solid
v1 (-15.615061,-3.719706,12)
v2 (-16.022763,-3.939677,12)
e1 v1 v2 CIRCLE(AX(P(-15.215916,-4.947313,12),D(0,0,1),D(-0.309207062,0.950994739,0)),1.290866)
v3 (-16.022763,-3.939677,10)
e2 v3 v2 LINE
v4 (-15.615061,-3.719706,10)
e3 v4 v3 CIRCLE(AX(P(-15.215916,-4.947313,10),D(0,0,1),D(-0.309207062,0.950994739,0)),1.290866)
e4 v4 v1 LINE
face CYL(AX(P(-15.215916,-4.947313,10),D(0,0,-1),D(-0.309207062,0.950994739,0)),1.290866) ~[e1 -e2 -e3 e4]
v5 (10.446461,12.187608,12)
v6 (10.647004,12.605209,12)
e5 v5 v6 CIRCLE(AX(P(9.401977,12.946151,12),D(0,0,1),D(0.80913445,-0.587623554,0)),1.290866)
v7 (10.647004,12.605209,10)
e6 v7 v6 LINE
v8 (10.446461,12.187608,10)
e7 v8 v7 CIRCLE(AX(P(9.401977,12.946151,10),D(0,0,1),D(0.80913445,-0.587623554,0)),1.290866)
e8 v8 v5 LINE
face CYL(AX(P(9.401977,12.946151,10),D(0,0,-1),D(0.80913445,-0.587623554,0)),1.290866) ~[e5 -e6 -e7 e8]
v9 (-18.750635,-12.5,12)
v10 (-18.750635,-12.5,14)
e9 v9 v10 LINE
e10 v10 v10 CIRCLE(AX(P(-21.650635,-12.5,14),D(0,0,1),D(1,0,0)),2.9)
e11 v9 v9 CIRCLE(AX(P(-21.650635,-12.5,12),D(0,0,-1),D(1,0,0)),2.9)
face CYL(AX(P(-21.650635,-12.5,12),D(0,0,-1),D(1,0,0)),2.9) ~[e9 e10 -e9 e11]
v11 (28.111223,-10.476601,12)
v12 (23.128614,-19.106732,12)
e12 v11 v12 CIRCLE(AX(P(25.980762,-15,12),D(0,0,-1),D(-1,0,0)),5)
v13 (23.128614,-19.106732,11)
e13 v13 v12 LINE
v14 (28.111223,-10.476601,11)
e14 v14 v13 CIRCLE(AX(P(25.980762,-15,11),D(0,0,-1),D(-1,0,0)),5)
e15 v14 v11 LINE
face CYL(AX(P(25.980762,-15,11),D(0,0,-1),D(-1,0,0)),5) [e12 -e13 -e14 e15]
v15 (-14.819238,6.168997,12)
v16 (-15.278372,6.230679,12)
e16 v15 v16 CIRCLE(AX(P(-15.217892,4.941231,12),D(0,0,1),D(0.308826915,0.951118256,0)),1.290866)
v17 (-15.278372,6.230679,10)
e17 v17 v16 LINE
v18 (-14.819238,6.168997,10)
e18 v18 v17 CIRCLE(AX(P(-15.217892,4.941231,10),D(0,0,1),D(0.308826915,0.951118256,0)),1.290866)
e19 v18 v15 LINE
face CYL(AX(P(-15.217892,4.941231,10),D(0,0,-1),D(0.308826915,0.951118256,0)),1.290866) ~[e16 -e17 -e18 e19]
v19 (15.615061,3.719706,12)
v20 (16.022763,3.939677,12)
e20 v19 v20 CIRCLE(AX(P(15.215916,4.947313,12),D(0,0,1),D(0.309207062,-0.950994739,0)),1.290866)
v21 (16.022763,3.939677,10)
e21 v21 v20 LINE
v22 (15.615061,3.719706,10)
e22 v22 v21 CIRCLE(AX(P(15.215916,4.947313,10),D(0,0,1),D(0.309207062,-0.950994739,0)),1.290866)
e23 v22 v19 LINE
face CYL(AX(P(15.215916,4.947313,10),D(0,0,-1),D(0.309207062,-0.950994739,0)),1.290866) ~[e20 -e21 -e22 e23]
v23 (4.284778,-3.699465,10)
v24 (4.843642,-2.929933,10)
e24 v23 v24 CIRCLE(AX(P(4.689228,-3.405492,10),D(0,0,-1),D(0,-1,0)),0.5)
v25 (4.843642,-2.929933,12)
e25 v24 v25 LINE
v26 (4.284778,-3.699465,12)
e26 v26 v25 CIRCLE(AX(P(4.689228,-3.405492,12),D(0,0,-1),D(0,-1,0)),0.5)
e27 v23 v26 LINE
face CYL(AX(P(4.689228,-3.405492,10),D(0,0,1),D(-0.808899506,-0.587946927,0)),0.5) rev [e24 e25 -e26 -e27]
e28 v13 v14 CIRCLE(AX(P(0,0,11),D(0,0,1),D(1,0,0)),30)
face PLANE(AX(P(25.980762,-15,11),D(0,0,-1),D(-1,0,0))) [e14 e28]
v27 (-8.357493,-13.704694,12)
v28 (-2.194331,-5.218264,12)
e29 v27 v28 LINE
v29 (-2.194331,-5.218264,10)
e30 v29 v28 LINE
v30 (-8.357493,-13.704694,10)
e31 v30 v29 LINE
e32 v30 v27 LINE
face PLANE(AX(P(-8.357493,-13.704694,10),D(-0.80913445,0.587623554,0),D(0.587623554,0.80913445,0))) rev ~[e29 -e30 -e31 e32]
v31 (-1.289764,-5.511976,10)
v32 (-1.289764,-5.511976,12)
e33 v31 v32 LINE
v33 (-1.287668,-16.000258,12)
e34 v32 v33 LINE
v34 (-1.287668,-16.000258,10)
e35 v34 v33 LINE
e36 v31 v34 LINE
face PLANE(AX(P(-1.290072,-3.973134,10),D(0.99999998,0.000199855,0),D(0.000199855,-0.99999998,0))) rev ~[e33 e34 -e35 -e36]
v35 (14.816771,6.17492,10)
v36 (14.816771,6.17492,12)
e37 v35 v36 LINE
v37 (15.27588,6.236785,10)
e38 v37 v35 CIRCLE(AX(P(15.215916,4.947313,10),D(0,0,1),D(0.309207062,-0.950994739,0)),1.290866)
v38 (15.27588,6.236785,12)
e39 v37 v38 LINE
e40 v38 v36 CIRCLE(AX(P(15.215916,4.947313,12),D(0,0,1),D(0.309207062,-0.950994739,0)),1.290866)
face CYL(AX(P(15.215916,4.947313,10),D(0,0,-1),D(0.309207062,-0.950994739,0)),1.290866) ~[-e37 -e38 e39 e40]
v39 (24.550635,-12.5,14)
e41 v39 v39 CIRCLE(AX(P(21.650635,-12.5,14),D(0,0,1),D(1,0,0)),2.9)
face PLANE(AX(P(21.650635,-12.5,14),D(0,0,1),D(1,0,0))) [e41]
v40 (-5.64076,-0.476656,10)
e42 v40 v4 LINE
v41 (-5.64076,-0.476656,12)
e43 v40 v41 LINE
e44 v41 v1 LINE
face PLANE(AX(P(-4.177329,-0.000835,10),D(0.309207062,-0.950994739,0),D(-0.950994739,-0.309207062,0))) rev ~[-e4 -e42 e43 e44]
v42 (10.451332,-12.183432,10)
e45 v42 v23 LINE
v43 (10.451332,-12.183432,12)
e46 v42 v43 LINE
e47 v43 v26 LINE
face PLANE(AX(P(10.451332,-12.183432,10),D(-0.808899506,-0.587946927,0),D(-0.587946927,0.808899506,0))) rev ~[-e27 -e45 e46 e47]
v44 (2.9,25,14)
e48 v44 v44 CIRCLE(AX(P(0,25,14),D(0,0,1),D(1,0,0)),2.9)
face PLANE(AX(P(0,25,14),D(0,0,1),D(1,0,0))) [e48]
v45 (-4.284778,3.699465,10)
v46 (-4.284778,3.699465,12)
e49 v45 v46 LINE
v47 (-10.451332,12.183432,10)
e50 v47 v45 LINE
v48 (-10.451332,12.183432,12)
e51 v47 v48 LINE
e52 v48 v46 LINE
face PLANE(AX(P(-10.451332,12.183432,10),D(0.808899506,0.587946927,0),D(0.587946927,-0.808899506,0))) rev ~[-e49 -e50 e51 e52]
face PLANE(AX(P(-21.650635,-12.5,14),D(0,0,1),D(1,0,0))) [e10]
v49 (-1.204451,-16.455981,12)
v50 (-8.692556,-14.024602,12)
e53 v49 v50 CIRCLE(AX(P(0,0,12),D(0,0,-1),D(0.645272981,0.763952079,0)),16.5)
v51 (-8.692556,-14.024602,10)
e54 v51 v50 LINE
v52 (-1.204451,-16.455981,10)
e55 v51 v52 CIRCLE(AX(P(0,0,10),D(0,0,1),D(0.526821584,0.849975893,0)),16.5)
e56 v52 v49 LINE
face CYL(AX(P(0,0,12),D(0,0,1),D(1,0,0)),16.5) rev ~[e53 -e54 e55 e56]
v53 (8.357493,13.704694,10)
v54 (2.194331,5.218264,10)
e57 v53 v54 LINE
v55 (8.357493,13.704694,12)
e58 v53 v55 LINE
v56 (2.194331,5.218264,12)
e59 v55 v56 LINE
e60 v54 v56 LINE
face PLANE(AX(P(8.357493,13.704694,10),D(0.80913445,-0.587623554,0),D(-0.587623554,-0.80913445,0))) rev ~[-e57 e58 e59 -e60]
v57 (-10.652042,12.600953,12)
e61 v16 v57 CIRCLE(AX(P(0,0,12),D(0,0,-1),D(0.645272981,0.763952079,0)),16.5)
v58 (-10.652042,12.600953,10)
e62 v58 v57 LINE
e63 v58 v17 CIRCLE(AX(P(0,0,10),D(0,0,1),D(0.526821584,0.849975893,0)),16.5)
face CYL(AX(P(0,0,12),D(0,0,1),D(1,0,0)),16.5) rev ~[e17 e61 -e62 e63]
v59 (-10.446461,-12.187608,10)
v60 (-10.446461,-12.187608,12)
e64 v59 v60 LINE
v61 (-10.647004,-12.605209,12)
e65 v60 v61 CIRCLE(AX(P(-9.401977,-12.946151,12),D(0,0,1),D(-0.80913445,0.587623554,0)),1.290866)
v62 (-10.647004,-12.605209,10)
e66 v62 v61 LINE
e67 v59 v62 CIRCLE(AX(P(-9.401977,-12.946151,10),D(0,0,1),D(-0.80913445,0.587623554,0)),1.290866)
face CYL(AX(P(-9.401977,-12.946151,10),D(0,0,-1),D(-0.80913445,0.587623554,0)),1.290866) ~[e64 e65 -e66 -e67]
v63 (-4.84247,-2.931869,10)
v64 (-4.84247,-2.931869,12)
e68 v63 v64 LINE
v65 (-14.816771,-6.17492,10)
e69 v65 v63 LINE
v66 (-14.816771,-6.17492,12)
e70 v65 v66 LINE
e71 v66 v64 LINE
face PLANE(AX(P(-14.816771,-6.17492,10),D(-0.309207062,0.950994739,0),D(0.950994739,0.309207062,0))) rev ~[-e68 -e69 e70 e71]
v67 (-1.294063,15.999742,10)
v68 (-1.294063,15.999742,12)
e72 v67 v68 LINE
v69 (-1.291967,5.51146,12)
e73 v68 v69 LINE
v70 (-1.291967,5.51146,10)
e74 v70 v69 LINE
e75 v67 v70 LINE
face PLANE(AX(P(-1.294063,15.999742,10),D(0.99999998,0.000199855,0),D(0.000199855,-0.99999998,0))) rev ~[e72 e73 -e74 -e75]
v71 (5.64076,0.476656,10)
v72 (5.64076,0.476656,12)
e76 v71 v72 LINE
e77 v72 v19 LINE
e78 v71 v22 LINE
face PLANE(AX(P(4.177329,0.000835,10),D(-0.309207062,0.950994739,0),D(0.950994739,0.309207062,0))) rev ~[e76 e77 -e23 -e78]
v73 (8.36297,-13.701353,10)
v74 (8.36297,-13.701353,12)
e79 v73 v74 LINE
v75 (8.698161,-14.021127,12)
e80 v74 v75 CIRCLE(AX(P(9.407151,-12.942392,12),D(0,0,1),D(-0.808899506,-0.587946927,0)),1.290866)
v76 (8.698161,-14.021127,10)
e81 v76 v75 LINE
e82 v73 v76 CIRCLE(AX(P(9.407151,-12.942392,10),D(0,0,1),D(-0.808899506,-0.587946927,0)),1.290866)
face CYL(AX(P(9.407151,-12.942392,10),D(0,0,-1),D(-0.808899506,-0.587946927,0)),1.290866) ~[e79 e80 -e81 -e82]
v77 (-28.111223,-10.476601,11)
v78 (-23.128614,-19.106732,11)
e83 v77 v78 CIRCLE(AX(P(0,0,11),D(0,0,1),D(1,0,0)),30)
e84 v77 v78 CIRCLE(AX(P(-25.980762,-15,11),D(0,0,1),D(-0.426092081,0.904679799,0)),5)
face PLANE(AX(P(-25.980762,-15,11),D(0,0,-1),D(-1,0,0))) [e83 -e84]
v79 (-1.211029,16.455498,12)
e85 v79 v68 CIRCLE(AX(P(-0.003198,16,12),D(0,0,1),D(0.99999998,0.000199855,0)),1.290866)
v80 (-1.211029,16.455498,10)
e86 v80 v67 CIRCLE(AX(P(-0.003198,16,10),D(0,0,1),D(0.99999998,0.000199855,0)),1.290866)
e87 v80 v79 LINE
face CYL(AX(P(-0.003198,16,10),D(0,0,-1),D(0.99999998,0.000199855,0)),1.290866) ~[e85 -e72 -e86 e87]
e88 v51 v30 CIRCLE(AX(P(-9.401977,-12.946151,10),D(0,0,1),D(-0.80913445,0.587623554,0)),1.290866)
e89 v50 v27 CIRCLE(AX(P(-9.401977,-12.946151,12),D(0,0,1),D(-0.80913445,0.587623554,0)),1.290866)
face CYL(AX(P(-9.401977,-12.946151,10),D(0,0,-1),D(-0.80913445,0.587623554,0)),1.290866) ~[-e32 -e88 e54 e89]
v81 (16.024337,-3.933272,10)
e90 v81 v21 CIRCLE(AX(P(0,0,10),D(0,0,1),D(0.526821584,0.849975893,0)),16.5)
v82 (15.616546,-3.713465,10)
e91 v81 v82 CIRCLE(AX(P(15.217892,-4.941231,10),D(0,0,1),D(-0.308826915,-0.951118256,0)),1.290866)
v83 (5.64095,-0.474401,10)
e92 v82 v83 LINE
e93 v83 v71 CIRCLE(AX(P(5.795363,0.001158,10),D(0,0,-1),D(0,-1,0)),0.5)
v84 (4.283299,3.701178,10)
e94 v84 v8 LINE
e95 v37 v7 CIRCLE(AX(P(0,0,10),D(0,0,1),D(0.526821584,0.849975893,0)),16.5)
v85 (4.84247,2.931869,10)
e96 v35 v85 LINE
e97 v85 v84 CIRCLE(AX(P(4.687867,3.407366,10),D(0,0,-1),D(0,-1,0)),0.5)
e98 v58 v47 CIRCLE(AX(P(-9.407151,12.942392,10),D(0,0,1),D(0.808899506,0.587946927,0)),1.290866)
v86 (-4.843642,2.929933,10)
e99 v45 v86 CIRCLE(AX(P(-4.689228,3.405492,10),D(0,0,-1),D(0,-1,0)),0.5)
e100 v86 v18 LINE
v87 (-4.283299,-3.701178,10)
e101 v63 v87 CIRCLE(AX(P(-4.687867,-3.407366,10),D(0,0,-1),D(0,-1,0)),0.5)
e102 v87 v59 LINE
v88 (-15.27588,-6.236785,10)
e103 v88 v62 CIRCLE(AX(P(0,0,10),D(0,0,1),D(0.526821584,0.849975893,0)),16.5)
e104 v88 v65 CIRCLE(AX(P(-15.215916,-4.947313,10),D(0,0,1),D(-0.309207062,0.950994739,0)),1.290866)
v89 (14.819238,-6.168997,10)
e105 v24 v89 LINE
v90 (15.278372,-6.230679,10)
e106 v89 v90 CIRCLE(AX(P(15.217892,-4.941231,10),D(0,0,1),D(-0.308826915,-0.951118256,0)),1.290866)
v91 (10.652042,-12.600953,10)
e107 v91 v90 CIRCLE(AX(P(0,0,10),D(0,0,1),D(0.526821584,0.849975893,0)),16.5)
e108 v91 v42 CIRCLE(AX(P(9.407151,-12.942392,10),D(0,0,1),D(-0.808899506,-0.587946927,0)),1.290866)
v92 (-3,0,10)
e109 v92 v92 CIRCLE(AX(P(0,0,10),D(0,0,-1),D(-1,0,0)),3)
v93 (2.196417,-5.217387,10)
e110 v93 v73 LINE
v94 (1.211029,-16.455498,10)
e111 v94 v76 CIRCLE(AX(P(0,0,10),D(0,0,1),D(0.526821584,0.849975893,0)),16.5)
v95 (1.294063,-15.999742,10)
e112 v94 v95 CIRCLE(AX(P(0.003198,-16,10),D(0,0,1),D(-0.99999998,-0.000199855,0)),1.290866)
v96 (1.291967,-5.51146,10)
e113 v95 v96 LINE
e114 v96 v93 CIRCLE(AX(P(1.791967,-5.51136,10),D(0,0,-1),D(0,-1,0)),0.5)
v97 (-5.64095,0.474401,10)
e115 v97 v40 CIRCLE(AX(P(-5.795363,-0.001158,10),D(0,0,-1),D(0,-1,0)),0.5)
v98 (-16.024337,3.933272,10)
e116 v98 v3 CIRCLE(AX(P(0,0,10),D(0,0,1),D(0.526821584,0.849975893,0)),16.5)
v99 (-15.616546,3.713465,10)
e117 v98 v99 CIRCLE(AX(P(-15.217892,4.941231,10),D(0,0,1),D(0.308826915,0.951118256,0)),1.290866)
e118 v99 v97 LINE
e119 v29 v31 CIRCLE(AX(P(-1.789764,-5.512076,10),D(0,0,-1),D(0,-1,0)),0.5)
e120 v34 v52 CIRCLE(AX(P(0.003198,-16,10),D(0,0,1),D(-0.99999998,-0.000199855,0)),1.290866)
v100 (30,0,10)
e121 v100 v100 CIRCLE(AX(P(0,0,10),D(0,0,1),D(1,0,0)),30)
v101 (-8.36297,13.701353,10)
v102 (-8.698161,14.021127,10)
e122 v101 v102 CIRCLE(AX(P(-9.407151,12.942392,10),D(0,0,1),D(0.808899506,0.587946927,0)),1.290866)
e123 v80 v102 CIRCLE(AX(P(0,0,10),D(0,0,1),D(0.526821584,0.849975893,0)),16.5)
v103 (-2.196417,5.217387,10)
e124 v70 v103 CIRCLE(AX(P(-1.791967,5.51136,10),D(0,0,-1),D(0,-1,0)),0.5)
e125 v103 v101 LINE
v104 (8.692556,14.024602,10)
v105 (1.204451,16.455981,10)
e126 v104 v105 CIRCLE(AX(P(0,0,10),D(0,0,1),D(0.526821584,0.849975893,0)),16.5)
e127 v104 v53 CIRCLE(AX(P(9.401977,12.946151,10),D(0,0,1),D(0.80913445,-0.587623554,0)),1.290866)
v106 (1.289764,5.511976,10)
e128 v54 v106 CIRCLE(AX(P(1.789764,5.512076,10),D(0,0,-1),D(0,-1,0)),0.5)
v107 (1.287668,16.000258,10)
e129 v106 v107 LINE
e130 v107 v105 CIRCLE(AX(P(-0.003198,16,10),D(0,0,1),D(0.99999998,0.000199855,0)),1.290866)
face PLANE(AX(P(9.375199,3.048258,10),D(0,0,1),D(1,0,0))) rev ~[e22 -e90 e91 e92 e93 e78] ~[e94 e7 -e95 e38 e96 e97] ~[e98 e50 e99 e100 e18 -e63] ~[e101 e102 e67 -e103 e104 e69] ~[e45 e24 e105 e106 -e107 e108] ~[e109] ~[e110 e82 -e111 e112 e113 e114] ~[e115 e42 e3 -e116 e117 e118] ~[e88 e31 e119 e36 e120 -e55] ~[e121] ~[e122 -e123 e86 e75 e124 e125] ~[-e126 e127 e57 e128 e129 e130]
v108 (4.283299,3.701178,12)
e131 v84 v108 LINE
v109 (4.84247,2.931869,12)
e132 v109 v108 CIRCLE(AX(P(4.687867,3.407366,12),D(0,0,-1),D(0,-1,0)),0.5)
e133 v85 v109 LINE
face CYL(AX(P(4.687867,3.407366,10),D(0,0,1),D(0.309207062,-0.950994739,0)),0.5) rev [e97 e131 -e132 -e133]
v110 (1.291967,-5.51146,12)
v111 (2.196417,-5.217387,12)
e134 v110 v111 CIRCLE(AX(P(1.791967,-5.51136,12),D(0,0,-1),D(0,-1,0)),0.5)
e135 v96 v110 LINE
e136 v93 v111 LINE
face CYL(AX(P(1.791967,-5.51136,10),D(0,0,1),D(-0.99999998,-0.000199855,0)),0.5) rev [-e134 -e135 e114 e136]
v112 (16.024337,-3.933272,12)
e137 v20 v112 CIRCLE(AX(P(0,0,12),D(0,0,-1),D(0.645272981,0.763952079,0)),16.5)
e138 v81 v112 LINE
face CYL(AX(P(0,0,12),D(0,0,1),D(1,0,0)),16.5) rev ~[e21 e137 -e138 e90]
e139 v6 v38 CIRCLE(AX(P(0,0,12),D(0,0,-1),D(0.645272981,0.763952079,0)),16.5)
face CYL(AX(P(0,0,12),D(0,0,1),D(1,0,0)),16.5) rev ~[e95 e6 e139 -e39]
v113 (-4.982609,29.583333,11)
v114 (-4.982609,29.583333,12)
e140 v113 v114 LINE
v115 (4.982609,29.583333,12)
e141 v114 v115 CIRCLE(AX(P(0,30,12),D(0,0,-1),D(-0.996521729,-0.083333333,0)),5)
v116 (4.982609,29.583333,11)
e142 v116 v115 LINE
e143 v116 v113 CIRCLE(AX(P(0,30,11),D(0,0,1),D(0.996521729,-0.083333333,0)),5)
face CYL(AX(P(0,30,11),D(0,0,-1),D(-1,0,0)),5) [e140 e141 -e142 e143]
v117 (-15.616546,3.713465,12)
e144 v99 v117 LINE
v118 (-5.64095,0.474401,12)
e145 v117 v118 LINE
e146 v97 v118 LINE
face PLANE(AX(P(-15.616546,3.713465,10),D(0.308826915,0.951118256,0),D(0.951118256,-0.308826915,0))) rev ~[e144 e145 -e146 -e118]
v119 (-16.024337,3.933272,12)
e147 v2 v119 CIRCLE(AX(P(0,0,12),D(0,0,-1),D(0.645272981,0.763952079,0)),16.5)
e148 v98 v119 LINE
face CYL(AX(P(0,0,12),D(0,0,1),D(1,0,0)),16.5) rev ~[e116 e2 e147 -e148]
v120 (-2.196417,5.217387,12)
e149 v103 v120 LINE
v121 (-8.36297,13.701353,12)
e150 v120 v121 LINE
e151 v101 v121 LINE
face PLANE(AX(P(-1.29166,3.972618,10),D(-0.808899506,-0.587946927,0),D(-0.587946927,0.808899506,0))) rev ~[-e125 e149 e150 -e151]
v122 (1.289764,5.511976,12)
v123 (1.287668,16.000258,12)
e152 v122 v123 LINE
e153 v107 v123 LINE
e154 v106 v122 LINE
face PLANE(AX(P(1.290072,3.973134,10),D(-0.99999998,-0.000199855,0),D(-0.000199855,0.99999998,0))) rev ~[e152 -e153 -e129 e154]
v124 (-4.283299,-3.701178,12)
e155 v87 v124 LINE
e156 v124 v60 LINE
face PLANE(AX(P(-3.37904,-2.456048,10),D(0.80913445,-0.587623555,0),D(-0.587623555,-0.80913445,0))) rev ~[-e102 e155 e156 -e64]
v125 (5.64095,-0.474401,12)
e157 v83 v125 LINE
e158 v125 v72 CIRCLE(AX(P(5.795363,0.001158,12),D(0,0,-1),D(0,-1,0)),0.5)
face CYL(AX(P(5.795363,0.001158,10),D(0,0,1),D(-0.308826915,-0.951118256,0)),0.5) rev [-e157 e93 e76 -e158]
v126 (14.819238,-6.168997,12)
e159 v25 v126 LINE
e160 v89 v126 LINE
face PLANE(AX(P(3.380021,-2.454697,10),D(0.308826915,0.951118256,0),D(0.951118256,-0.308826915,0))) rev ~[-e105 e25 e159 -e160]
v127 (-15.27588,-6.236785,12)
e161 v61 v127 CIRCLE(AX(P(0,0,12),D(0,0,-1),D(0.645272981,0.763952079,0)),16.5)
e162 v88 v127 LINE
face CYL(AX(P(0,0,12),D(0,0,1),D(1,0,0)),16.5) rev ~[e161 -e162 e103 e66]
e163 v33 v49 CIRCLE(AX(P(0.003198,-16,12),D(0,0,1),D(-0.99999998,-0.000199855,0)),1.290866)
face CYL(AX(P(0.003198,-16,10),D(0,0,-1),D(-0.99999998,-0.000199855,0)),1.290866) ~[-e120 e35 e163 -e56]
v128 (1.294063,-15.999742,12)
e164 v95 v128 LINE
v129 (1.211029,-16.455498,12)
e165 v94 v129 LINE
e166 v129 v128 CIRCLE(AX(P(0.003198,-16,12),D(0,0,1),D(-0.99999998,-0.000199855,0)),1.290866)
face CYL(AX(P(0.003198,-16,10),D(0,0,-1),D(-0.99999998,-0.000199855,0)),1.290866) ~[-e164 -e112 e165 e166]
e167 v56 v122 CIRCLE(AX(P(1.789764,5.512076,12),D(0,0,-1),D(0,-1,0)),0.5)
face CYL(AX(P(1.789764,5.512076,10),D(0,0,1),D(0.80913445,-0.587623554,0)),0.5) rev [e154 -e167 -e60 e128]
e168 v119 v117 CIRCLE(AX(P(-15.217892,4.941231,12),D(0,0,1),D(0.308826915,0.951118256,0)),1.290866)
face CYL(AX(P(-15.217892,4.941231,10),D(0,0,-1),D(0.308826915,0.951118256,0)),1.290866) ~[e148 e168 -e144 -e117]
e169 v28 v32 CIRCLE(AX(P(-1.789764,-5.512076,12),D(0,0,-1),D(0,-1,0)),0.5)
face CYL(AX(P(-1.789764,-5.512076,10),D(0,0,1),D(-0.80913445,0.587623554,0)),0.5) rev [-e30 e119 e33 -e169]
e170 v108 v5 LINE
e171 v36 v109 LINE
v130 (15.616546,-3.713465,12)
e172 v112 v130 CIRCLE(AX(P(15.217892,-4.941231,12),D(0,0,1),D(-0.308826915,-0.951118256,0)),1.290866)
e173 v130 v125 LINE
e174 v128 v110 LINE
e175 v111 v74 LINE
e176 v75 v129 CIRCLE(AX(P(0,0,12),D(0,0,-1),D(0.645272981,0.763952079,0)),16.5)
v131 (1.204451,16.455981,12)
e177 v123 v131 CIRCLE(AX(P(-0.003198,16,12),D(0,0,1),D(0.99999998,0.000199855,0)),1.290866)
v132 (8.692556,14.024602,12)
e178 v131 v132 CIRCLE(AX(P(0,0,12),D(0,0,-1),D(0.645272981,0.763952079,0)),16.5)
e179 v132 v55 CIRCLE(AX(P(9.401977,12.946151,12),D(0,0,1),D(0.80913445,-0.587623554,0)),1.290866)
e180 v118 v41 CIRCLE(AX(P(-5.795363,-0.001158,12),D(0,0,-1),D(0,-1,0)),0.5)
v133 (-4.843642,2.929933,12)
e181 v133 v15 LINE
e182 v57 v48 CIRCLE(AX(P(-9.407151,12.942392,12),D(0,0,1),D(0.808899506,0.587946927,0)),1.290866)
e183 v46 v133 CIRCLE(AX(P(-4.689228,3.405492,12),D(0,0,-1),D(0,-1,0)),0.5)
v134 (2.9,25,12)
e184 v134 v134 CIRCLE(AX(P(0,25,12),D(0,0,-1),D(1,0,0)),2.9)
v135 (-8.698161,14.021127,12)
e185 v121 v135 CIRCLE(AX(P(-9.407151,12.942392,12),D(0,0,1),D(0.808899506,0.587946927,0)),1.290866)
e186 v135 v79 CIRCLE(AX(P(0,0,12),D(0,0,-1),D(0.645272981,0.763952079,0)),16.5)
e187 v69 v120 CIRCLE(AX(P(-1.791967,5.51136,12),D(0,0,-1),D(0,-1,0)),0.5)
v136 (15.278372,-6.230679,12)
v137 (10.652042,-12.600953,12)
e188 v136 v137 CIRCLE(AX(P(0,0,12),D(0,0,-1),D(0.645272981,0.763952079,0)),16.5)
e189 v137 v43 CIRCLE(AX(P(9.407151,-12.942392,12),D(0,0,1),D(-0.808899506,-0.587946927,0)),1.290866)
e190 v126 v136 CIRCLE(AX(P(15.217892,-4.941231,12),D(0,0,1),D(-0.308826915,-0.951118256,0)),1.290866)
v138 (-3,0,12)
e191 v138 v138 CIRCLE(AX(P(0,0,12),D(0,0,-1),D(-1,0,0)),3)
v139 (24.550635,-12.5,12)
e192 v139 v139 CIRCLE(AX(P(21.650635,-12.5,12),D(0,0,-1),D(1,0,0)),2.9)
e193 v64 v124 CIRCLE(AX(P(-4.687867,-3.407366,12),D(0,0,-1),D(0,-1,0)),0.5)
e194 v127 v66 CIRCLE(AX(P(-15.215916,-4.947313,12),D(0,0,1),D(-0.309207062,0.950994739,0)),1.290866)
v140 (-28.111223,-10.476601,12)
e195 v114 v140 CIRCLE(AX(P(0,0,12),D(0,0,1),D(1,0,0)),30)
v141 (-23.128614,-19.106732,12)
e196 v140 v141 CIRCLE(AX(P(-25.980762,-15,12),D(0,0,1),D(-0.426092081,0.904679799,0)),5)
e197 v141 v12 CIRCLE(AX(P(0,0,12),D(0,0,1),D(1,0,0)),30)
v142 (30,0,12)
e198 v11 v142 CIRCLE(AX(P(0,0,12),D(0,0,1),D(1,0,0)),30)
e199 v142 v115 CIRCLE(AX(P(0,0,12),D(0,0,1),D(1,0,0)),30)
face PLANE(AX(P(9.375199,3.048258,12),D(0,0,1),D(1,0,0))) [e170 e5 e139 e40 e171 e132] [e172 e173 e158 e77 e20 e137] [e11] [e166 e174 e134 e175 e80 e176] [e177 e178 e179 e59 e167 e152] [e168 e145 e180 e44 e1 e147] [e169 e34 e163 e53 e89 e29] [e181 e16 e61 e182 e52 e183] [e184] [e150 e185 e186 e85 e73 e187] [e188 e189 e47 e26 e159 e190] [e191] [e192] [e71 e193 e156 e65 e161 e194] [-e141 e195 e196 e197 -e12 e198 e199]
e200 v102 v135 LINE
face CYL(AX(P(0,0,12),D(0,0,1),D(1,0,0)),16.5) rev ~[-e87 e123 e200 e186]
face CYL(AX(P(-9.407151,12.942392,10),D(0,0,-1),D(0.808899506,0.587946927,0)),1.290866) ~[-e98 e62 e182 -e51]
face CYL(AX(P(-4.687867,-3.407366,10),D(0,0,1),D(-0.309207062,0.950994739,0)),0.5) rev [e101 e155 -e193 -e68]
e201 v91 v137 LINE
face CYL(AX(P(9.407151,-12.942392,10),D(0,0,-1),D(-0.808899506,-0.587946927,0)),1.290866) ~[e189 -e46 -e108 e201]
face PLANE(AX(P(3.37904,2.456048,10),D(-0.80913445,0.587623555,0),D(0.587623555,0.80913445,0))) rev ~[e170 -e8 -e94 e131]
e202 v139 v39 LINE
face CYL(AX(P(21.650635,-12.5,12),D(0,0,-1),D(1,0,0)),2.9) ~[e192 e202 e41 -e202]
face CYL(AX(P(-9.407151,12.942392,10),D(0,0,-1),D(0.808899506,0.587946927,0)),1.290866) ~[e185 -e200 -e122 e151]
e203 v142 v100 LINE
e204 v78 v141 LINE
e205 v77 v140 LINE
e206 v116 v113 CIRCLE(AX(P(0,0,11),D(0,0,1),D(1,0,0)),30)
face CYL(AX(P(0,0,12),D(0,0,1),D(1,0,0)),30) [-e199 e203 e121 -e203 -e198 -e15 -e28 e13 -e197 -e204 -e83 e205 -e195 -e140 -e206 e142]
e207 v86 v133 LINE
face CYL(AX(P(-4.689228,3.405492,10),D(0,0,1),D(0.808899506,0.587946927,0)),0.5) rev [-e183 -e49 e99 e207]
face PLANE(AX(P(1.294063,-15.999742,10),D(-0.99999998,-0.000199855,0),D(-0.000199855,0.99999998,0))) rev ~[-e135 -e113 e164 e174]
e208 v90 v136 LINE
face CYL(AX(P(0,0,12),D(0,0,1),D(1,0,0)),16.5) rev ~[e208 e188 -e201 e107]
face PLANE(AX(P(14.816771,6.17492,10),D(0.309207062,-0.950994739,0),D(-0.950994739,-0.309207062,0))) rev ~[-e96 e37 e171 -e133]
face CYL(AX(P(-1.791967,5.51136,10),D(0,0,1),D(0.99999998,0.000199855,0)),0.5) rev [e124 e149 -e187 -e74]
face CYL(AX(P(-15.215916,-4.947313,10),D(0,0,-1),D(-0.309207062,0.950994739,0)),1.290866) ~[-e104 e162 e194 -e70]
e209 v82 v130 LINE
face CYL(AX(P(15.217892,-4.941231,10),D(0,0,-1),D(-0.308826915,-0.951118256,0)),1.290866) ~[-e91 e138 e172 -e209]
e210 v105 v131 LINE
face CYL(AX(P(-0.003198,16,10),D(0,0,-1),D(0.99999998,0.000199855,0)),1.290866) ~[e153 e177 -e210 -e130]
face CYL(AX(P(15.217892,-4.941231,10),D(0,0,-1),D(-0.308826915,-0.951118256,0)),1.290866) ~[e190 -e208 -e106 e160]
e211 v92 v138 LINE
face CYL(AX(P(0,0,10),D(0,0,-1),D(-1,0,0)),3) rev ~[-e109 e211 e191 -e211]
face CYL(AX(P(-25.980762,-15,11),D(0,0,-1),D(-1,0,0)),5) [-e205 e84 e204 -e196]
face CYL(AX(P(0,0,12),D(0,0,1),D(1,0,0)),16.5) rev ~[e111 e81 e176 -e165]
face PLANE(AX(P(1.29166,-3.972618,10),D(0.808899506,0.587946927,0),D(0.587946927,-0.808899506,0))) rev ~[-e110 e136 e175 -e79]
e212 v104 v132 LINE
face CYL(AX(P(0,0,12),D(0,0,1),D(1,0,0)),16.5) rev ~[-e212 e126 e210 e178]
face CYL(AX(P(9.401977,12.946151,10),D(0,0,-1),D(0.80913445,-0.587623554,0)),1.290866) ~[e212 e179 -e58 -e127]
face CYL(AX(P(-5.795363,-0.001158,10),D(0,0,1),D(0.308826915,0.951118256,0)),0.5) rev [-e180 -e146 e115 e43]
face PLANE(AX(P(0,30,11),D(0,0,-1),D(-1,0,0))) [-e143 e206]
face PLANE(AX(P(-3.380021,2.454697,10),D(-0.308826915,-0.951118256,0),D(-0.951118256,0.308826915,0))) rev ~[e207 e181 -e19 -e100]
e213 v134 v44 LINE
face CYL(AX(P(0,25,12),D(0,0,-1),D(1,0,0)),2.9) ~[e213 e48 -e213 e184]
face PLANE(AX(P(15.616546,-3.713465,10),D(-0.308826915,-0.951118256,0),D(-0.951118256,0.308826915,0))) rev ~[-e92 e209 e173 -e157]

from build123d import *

# Parameters (mm, degrees)
BOSS_EXTRUDE1_DEPTH    = 2
BOSS_EXTRUDE1_2_DEPTH  = 2
BOSS_EXTRUDE1_3_DEPTH  = 2
BOSS_EXTRUDE1_4_DEPTH  = 2
BOSS_EXTRUDE1_5_DEPTH  = 2
BOSS_EXTRUDE1_6_DEPTH  = 2
BOSS_EXTRUDE1_7_DEPTH  = 2
BOSS_EXTRUDE1_8_DEPTH  = 2
BOSS_EXTRUDE1_9_DEPTH  = 2
BOSS_EXTRUDE1_10_DEPTH = 2
SKETCH3_R              = 30
SKETCH3_R_2            = 16.5
BOSS_EXTRUDE2_DEPTH    = 2
SKETCH4_R              = 2.9
BOSS_EXTRUDE3_DEPTH    = 2
SKETCH6_R              = 5
BOSS_EXTRUDE4_DEPTH    = 1
SKETCH13_R             = 4.177329345
BOSS_EXTRUDE6_DEPTH    = 2
FILLET2_R              = 0.5
SKETCH14_R             = 3
CUT_EXTRUDE1_DEPTH     = 20


with BuildPart() as part:
    # Sketch2 → Boss-Extrude1 (new body)
    with BuildSketch(Plane.XY.offset(10)):
        with BuildLine():
            Line((8.357492916, 13.704694326), (1.290071734, 3.973134201))
            Line((1.290071734, 3.973134201), (1.290510646, 1.776982243))
            Line((1.290510646, 1.776982243), (3.379039645, 2.45604795))
            Line((3.379039645, 2.45604795), (10.446460828, 12.187608075))
            ThreePointArc((10.446460828, 12.187608075), (10.160519997, 13.990635156), (8.357492916, 13.704694326))
        make_face()
    extrude(amount=BOSS_EXTRUDE1_DEPTH)


with BuildPart() as body_2:
    # Sketch2 → Boss-Extrude1 2 (new body)
    with BuildSketch(Plane.XY.offset(10)):
        with BuildLine():
            Line((1.290071734, 3.973134201), (1.287668054, 16.000257666))
            ThreePointArc((1.287668054, 16.000257666), (-0.003455665, 17.290865413), (-1.294063412, 15.999741695))
            Line((-1.294063412, 15.999741695), (-1.291659732, 3.972618229))
            Line((-1.291659732, 3.972618229), (-0.000438912, 2.196151958))
            Line((-0.000438912, 2.196151958), (1.290071734, 3.973134201))
        make_face()
    extrude(amount=BOSS_EXTRUDE1_2_DEPTH)


with BuildPart() as body_3:
    # Sketch2 → Boss-Extrude1 3 (new body)
    with BuildSketch(Plane.XY.offset(10)):
        with BuildLine():
            Line((-1.29122082, 1.776466271), (-1.291659732, 3.972618229))
            Line((-1.291659732, 3.972618229), (-8.362970151, 13.701352658))
            ThreePointArc((-8.362970151, 13.701352658), (-10.166111381, 13.986572778), (-10.451331501, 12.183431547))
            Line((-10.451331501, 12.183431547), (-3.380021082, 2.454697118))
            Line((-3.380021082, 2.454697118), (-1.29122082, 1.776466271))
        make_face()
    extrude(amount=BOSS_EXTRUDE1_3_DEPTH)


with BuildPart() as body_4:
    # Sketch2 → Boss-Extrude1 4 (new body)
    with BuildSketch(Plane.XY.offset(10)):
        with BuildLine():
            Line((-2.088800262, 0.678230847), (-3.380021082, 2.454697118))
            Line((-3.380021082, 2.454697118), (-14.819238004, 6.168996626))
            ThreePointArc((-14.819238004, 6.168996626), (-16.445658083, 5.339884727), (-15.616546184, 3.713464648))
            Line((-15.616546184, 3.713464648), (-4.177329262, -0.00083486))
            Line((-4.177329262, -0.00083486), (-2.088800262, 0.678230847))
        make_face()
    extrude(amount=BOSS_EXTRUDE1_4_DEPTH)


with BuildPart() as body_5:
    # Sketch2 → Boss-Extrude1 5 (new body)
    with BuildSketch(Plane.XY.offset(10)):
        with BuildLine():
            Line((-2.088529, -0.679065707), (-4.177329262, -0.00083486))
            Line((-4.177329262, -0.00083486), (-15.615060628, -3.71970644))
            ThreePointArc((-15.615060628, -3.71970644), (-16.443522365, -5.346457793), (-14.816771011, -6.17491953))
            Line((-14.816771011, -6.17491953), (-3.379039645, -2.45604795))
            Line((-3.379039645, -2.45604795), (-2.088529, -0.679065707))
        make_face()
    extrude(amount=BOSS_EXTRUDE1_5_DEPTH)


with BuildPart() as body_6:
    # Sketch2 → Boss-Extrude1 6 (new body)
    with BuildSketch(Plane.XY.offset(10)):
        with BuildLine():
            Line((-1.290510646, -1.776982243), (-3.379039645, -2.45604795))
            Line((-3.379039645, -2.45604795), (-10.446460828, -12.187608075))
            ThreePointArc((-10.446460828, -12.187608075), (-10.160519997, -13.990635156), (-8.357492916, -13.704694326))
            Line((-8.357492916, -13.704694326), (-1.290071734, -3.973134201))
            Line((-1.290071734, -3.973134201), (-1.290510646, -1.776982243))
        make_face()
    extrude(amount=BOSS_EXTRUDE1_6_DEPTH)


with BuildPart() as body_7:
    # Sketch2 → Boss-Extrude1 7 (new body)
    with BuildSketch(Plane.XY.offset(10)):
        with BuildLine():
            Line((1.294063412, -15.999741695), (1.291659732, -3.972618229))
            Line((1.291659732, -3.972618229), (0.000438912, -2.196151958))
            Line((0.000438912, -2.196151958), (-1.290071734, -3.973134201))
            Line((-1.290071734, -3.973134201), (-1.287668054, -16.000257666))
            ThreePointArc((-1.287668054, -16.000257666), (0.003455665, -17.290865413), (1.294063412, -15.999741695))
        make_face()
    extrude(amount=BOSS_EXTRUDE1_7_DEPTH)


with BuildPart() as body_8:
    # Sketch2 → Boss-Extrude1 8 (new body)
    with BuildSketch(Plane.XY.offset(10)):
        with BuildLine():
            Line((10.451331501, -12.183431547), (3.380021082, -2.454697118))
            Line((3.380021082, -2.454697118), (1.29122082, -1.776466271))
            Line((1.29122082, -1.776466271), (1.291659732, -3.972618229))
            Line((1.291659732, -3.972618229), (8.362970151, -13.701352658))
            ThreePointArc((8.362970151, -13.701352658), (10.166111381, -13.986572778), (10.451331501, -12.183431547))
        make_face()
    extrude(amount=BOSS_EXTRUDE1_8_DEPTH)


with BuildPart() as body_9:
    # Sketch2 → Boss-Extrude1 9 (new body)
    with BuildSketch(Plane.XY.offset(10)):
        with BuildLine():
            Line((15.616546184, -3.713464648), (4.177329262, 0.00083486))
            Line((4.177329262, 0.00083486), (2.088800262, -0.678230847))
            Line((2.088800262, -0.678230847), (3.380021082, -2.454697118))
            Line((3.380021082, -2.454697118), (14.819238004, -6.168996626))
            ThreePointArc((14.819238004, -6.168996626), (16.445658083, -5.339884727), (15.616546184, -3.713464648))
        make_face()
    extrude(amount=BOSS_EXTRUDE1_9_DEPTH)


with BuildPart() as body_10:
    # Sketch2 → Boss-Extrude1 10 (new body)
    with BuildSketch(Plane.XY.offset(10)):
        with BuildLine():
            Line((14.816771011, 6.17491953), (3.379039645, 2.45604795))
            Line((3.379039645, 2.45604795), (2.088529, 0.679065707))
            Line((2.088529, 0.679065707), (4.177329262, 0.00083486))
            Line((4.177329262, 0.00083486), (15.615060628, 3.71970644))
            ThreePointArc((15.615060628, 3.71970644), (16.443522365, 5.346457793), (14.816771011, 6.17491953))
        make_face()
    extrude(amount=BOSS_EXTRUDE1_10_DEPTH)


with BuildPart() as body_11:
    # Sketch3 → Boss-Extrude2 (new body)
    with BuildSketch(Plane.XY.offset(12)):
        Circle(SKETCH3_R)
        Circle(SKETCH3_R_2, mode=Mode.SUBTRACT)
    extrude(amount=-BOSS_EXTRUDE2_DEPTH)

    # Sketch4 → Boss-Extrude3 (add)
    with BuildSketch(Plane.XY.offset(12)):
        with Locations((0, 25)):
            Circle(SKETCH4_R)
        with Locations((21.650635095, -12.5)):
            Circle(SKETCH4_R)
        with Locations((-21.650635095, -12.5)):
            Circle(SKETCH4_R)
    extrude(amount=BOSS_EXTRUDE3_DEPTH)

    # Sketch6 → Boss-Extrude4 (add)
    with BuildSketch(Plane(origin=(0, 0, 11), x_dir=(-1, 0, 0), z_dir=(0, 0, -1))):
        with Locations((0, 30)):
            Circle(SKETCH6_R)
        with Locations((25.980762114, -15)):
            Circle(SKETCH6_R)
        with Locations((-25.980762114, -15)):
            Circle(SKETCH6_R)
    extrude(amount=-BOSS_EXTRUDE4_DEPTH)


    add(part.part)  # Boss-Extrude6 merges part

    add(body_3.part)  # Boss-Extrude6 merges body 3

    add(body_5.part)  # Boss-Extrude6 merges body 5

    add(body_7.part)  # Boss-Extrude6 merges body 7

    add(body_9.part)  # Boss-Extrude6 merges body 9

    add(body_2.part)  # Boss-Extrude6 merges body 2

    add(body_4.part)  # Boss-Extrude6 merges body 4

    add(body_6.part)  # Boss-Extrude6 merges body 6

    add(body_8.part)  # Boss-Extrude6 merges body 8

    add(body_10.part)  # Boss-Extrude6 merges body 10
    # Sketch13 → Boss-Extrude6 (add)
    with BuildSketch(Plane(origin=(0, 0, 10), x_dir=(-1, 0, 0), z_dir=(0, 0, -1))):
        Circle(SKETCH13_R)
    extrude(amount=-BOSS_EXTRUDE6_DEPTH)

    # Fillet2
    fillet2_edges = [body_11.edges().sort_by_distance(p)[0] for p in [
        (-1.290071734, -3.973134201, 11),
        (1.291659732, -3.972618229, 11),
        (3.380021082, -2.454697118, 11),
        (4.177329262, 0.00083486, 11),
        (3.379039645, 2.45604795, 11),
        (1.290071734, 3.973134201, 11),
        (-1.291659732, 3.972618229, 11),
        (-3.380021082, 2.454697118, 11),
        (-4.177329262, -0.00083486, 11),
        (-3.379039645, -2.45604795, 11),
    ]]
    fillet(fillet2_edges, radius=FILLET2_R)

    # Sketch14 → Cut-Extrude1 (cut)
    with BuildSketch(Plane(origin=(0, 0, 10), x_dir=(-1, 0, 0), z_dir=(0, 0, -1))):
        Circle(SKETCH14_R)
    extrude(amount=-CUT_EXTRUDE1_DEPTH, mode=Mode.SUBTRACT)


solid = body_11.part
